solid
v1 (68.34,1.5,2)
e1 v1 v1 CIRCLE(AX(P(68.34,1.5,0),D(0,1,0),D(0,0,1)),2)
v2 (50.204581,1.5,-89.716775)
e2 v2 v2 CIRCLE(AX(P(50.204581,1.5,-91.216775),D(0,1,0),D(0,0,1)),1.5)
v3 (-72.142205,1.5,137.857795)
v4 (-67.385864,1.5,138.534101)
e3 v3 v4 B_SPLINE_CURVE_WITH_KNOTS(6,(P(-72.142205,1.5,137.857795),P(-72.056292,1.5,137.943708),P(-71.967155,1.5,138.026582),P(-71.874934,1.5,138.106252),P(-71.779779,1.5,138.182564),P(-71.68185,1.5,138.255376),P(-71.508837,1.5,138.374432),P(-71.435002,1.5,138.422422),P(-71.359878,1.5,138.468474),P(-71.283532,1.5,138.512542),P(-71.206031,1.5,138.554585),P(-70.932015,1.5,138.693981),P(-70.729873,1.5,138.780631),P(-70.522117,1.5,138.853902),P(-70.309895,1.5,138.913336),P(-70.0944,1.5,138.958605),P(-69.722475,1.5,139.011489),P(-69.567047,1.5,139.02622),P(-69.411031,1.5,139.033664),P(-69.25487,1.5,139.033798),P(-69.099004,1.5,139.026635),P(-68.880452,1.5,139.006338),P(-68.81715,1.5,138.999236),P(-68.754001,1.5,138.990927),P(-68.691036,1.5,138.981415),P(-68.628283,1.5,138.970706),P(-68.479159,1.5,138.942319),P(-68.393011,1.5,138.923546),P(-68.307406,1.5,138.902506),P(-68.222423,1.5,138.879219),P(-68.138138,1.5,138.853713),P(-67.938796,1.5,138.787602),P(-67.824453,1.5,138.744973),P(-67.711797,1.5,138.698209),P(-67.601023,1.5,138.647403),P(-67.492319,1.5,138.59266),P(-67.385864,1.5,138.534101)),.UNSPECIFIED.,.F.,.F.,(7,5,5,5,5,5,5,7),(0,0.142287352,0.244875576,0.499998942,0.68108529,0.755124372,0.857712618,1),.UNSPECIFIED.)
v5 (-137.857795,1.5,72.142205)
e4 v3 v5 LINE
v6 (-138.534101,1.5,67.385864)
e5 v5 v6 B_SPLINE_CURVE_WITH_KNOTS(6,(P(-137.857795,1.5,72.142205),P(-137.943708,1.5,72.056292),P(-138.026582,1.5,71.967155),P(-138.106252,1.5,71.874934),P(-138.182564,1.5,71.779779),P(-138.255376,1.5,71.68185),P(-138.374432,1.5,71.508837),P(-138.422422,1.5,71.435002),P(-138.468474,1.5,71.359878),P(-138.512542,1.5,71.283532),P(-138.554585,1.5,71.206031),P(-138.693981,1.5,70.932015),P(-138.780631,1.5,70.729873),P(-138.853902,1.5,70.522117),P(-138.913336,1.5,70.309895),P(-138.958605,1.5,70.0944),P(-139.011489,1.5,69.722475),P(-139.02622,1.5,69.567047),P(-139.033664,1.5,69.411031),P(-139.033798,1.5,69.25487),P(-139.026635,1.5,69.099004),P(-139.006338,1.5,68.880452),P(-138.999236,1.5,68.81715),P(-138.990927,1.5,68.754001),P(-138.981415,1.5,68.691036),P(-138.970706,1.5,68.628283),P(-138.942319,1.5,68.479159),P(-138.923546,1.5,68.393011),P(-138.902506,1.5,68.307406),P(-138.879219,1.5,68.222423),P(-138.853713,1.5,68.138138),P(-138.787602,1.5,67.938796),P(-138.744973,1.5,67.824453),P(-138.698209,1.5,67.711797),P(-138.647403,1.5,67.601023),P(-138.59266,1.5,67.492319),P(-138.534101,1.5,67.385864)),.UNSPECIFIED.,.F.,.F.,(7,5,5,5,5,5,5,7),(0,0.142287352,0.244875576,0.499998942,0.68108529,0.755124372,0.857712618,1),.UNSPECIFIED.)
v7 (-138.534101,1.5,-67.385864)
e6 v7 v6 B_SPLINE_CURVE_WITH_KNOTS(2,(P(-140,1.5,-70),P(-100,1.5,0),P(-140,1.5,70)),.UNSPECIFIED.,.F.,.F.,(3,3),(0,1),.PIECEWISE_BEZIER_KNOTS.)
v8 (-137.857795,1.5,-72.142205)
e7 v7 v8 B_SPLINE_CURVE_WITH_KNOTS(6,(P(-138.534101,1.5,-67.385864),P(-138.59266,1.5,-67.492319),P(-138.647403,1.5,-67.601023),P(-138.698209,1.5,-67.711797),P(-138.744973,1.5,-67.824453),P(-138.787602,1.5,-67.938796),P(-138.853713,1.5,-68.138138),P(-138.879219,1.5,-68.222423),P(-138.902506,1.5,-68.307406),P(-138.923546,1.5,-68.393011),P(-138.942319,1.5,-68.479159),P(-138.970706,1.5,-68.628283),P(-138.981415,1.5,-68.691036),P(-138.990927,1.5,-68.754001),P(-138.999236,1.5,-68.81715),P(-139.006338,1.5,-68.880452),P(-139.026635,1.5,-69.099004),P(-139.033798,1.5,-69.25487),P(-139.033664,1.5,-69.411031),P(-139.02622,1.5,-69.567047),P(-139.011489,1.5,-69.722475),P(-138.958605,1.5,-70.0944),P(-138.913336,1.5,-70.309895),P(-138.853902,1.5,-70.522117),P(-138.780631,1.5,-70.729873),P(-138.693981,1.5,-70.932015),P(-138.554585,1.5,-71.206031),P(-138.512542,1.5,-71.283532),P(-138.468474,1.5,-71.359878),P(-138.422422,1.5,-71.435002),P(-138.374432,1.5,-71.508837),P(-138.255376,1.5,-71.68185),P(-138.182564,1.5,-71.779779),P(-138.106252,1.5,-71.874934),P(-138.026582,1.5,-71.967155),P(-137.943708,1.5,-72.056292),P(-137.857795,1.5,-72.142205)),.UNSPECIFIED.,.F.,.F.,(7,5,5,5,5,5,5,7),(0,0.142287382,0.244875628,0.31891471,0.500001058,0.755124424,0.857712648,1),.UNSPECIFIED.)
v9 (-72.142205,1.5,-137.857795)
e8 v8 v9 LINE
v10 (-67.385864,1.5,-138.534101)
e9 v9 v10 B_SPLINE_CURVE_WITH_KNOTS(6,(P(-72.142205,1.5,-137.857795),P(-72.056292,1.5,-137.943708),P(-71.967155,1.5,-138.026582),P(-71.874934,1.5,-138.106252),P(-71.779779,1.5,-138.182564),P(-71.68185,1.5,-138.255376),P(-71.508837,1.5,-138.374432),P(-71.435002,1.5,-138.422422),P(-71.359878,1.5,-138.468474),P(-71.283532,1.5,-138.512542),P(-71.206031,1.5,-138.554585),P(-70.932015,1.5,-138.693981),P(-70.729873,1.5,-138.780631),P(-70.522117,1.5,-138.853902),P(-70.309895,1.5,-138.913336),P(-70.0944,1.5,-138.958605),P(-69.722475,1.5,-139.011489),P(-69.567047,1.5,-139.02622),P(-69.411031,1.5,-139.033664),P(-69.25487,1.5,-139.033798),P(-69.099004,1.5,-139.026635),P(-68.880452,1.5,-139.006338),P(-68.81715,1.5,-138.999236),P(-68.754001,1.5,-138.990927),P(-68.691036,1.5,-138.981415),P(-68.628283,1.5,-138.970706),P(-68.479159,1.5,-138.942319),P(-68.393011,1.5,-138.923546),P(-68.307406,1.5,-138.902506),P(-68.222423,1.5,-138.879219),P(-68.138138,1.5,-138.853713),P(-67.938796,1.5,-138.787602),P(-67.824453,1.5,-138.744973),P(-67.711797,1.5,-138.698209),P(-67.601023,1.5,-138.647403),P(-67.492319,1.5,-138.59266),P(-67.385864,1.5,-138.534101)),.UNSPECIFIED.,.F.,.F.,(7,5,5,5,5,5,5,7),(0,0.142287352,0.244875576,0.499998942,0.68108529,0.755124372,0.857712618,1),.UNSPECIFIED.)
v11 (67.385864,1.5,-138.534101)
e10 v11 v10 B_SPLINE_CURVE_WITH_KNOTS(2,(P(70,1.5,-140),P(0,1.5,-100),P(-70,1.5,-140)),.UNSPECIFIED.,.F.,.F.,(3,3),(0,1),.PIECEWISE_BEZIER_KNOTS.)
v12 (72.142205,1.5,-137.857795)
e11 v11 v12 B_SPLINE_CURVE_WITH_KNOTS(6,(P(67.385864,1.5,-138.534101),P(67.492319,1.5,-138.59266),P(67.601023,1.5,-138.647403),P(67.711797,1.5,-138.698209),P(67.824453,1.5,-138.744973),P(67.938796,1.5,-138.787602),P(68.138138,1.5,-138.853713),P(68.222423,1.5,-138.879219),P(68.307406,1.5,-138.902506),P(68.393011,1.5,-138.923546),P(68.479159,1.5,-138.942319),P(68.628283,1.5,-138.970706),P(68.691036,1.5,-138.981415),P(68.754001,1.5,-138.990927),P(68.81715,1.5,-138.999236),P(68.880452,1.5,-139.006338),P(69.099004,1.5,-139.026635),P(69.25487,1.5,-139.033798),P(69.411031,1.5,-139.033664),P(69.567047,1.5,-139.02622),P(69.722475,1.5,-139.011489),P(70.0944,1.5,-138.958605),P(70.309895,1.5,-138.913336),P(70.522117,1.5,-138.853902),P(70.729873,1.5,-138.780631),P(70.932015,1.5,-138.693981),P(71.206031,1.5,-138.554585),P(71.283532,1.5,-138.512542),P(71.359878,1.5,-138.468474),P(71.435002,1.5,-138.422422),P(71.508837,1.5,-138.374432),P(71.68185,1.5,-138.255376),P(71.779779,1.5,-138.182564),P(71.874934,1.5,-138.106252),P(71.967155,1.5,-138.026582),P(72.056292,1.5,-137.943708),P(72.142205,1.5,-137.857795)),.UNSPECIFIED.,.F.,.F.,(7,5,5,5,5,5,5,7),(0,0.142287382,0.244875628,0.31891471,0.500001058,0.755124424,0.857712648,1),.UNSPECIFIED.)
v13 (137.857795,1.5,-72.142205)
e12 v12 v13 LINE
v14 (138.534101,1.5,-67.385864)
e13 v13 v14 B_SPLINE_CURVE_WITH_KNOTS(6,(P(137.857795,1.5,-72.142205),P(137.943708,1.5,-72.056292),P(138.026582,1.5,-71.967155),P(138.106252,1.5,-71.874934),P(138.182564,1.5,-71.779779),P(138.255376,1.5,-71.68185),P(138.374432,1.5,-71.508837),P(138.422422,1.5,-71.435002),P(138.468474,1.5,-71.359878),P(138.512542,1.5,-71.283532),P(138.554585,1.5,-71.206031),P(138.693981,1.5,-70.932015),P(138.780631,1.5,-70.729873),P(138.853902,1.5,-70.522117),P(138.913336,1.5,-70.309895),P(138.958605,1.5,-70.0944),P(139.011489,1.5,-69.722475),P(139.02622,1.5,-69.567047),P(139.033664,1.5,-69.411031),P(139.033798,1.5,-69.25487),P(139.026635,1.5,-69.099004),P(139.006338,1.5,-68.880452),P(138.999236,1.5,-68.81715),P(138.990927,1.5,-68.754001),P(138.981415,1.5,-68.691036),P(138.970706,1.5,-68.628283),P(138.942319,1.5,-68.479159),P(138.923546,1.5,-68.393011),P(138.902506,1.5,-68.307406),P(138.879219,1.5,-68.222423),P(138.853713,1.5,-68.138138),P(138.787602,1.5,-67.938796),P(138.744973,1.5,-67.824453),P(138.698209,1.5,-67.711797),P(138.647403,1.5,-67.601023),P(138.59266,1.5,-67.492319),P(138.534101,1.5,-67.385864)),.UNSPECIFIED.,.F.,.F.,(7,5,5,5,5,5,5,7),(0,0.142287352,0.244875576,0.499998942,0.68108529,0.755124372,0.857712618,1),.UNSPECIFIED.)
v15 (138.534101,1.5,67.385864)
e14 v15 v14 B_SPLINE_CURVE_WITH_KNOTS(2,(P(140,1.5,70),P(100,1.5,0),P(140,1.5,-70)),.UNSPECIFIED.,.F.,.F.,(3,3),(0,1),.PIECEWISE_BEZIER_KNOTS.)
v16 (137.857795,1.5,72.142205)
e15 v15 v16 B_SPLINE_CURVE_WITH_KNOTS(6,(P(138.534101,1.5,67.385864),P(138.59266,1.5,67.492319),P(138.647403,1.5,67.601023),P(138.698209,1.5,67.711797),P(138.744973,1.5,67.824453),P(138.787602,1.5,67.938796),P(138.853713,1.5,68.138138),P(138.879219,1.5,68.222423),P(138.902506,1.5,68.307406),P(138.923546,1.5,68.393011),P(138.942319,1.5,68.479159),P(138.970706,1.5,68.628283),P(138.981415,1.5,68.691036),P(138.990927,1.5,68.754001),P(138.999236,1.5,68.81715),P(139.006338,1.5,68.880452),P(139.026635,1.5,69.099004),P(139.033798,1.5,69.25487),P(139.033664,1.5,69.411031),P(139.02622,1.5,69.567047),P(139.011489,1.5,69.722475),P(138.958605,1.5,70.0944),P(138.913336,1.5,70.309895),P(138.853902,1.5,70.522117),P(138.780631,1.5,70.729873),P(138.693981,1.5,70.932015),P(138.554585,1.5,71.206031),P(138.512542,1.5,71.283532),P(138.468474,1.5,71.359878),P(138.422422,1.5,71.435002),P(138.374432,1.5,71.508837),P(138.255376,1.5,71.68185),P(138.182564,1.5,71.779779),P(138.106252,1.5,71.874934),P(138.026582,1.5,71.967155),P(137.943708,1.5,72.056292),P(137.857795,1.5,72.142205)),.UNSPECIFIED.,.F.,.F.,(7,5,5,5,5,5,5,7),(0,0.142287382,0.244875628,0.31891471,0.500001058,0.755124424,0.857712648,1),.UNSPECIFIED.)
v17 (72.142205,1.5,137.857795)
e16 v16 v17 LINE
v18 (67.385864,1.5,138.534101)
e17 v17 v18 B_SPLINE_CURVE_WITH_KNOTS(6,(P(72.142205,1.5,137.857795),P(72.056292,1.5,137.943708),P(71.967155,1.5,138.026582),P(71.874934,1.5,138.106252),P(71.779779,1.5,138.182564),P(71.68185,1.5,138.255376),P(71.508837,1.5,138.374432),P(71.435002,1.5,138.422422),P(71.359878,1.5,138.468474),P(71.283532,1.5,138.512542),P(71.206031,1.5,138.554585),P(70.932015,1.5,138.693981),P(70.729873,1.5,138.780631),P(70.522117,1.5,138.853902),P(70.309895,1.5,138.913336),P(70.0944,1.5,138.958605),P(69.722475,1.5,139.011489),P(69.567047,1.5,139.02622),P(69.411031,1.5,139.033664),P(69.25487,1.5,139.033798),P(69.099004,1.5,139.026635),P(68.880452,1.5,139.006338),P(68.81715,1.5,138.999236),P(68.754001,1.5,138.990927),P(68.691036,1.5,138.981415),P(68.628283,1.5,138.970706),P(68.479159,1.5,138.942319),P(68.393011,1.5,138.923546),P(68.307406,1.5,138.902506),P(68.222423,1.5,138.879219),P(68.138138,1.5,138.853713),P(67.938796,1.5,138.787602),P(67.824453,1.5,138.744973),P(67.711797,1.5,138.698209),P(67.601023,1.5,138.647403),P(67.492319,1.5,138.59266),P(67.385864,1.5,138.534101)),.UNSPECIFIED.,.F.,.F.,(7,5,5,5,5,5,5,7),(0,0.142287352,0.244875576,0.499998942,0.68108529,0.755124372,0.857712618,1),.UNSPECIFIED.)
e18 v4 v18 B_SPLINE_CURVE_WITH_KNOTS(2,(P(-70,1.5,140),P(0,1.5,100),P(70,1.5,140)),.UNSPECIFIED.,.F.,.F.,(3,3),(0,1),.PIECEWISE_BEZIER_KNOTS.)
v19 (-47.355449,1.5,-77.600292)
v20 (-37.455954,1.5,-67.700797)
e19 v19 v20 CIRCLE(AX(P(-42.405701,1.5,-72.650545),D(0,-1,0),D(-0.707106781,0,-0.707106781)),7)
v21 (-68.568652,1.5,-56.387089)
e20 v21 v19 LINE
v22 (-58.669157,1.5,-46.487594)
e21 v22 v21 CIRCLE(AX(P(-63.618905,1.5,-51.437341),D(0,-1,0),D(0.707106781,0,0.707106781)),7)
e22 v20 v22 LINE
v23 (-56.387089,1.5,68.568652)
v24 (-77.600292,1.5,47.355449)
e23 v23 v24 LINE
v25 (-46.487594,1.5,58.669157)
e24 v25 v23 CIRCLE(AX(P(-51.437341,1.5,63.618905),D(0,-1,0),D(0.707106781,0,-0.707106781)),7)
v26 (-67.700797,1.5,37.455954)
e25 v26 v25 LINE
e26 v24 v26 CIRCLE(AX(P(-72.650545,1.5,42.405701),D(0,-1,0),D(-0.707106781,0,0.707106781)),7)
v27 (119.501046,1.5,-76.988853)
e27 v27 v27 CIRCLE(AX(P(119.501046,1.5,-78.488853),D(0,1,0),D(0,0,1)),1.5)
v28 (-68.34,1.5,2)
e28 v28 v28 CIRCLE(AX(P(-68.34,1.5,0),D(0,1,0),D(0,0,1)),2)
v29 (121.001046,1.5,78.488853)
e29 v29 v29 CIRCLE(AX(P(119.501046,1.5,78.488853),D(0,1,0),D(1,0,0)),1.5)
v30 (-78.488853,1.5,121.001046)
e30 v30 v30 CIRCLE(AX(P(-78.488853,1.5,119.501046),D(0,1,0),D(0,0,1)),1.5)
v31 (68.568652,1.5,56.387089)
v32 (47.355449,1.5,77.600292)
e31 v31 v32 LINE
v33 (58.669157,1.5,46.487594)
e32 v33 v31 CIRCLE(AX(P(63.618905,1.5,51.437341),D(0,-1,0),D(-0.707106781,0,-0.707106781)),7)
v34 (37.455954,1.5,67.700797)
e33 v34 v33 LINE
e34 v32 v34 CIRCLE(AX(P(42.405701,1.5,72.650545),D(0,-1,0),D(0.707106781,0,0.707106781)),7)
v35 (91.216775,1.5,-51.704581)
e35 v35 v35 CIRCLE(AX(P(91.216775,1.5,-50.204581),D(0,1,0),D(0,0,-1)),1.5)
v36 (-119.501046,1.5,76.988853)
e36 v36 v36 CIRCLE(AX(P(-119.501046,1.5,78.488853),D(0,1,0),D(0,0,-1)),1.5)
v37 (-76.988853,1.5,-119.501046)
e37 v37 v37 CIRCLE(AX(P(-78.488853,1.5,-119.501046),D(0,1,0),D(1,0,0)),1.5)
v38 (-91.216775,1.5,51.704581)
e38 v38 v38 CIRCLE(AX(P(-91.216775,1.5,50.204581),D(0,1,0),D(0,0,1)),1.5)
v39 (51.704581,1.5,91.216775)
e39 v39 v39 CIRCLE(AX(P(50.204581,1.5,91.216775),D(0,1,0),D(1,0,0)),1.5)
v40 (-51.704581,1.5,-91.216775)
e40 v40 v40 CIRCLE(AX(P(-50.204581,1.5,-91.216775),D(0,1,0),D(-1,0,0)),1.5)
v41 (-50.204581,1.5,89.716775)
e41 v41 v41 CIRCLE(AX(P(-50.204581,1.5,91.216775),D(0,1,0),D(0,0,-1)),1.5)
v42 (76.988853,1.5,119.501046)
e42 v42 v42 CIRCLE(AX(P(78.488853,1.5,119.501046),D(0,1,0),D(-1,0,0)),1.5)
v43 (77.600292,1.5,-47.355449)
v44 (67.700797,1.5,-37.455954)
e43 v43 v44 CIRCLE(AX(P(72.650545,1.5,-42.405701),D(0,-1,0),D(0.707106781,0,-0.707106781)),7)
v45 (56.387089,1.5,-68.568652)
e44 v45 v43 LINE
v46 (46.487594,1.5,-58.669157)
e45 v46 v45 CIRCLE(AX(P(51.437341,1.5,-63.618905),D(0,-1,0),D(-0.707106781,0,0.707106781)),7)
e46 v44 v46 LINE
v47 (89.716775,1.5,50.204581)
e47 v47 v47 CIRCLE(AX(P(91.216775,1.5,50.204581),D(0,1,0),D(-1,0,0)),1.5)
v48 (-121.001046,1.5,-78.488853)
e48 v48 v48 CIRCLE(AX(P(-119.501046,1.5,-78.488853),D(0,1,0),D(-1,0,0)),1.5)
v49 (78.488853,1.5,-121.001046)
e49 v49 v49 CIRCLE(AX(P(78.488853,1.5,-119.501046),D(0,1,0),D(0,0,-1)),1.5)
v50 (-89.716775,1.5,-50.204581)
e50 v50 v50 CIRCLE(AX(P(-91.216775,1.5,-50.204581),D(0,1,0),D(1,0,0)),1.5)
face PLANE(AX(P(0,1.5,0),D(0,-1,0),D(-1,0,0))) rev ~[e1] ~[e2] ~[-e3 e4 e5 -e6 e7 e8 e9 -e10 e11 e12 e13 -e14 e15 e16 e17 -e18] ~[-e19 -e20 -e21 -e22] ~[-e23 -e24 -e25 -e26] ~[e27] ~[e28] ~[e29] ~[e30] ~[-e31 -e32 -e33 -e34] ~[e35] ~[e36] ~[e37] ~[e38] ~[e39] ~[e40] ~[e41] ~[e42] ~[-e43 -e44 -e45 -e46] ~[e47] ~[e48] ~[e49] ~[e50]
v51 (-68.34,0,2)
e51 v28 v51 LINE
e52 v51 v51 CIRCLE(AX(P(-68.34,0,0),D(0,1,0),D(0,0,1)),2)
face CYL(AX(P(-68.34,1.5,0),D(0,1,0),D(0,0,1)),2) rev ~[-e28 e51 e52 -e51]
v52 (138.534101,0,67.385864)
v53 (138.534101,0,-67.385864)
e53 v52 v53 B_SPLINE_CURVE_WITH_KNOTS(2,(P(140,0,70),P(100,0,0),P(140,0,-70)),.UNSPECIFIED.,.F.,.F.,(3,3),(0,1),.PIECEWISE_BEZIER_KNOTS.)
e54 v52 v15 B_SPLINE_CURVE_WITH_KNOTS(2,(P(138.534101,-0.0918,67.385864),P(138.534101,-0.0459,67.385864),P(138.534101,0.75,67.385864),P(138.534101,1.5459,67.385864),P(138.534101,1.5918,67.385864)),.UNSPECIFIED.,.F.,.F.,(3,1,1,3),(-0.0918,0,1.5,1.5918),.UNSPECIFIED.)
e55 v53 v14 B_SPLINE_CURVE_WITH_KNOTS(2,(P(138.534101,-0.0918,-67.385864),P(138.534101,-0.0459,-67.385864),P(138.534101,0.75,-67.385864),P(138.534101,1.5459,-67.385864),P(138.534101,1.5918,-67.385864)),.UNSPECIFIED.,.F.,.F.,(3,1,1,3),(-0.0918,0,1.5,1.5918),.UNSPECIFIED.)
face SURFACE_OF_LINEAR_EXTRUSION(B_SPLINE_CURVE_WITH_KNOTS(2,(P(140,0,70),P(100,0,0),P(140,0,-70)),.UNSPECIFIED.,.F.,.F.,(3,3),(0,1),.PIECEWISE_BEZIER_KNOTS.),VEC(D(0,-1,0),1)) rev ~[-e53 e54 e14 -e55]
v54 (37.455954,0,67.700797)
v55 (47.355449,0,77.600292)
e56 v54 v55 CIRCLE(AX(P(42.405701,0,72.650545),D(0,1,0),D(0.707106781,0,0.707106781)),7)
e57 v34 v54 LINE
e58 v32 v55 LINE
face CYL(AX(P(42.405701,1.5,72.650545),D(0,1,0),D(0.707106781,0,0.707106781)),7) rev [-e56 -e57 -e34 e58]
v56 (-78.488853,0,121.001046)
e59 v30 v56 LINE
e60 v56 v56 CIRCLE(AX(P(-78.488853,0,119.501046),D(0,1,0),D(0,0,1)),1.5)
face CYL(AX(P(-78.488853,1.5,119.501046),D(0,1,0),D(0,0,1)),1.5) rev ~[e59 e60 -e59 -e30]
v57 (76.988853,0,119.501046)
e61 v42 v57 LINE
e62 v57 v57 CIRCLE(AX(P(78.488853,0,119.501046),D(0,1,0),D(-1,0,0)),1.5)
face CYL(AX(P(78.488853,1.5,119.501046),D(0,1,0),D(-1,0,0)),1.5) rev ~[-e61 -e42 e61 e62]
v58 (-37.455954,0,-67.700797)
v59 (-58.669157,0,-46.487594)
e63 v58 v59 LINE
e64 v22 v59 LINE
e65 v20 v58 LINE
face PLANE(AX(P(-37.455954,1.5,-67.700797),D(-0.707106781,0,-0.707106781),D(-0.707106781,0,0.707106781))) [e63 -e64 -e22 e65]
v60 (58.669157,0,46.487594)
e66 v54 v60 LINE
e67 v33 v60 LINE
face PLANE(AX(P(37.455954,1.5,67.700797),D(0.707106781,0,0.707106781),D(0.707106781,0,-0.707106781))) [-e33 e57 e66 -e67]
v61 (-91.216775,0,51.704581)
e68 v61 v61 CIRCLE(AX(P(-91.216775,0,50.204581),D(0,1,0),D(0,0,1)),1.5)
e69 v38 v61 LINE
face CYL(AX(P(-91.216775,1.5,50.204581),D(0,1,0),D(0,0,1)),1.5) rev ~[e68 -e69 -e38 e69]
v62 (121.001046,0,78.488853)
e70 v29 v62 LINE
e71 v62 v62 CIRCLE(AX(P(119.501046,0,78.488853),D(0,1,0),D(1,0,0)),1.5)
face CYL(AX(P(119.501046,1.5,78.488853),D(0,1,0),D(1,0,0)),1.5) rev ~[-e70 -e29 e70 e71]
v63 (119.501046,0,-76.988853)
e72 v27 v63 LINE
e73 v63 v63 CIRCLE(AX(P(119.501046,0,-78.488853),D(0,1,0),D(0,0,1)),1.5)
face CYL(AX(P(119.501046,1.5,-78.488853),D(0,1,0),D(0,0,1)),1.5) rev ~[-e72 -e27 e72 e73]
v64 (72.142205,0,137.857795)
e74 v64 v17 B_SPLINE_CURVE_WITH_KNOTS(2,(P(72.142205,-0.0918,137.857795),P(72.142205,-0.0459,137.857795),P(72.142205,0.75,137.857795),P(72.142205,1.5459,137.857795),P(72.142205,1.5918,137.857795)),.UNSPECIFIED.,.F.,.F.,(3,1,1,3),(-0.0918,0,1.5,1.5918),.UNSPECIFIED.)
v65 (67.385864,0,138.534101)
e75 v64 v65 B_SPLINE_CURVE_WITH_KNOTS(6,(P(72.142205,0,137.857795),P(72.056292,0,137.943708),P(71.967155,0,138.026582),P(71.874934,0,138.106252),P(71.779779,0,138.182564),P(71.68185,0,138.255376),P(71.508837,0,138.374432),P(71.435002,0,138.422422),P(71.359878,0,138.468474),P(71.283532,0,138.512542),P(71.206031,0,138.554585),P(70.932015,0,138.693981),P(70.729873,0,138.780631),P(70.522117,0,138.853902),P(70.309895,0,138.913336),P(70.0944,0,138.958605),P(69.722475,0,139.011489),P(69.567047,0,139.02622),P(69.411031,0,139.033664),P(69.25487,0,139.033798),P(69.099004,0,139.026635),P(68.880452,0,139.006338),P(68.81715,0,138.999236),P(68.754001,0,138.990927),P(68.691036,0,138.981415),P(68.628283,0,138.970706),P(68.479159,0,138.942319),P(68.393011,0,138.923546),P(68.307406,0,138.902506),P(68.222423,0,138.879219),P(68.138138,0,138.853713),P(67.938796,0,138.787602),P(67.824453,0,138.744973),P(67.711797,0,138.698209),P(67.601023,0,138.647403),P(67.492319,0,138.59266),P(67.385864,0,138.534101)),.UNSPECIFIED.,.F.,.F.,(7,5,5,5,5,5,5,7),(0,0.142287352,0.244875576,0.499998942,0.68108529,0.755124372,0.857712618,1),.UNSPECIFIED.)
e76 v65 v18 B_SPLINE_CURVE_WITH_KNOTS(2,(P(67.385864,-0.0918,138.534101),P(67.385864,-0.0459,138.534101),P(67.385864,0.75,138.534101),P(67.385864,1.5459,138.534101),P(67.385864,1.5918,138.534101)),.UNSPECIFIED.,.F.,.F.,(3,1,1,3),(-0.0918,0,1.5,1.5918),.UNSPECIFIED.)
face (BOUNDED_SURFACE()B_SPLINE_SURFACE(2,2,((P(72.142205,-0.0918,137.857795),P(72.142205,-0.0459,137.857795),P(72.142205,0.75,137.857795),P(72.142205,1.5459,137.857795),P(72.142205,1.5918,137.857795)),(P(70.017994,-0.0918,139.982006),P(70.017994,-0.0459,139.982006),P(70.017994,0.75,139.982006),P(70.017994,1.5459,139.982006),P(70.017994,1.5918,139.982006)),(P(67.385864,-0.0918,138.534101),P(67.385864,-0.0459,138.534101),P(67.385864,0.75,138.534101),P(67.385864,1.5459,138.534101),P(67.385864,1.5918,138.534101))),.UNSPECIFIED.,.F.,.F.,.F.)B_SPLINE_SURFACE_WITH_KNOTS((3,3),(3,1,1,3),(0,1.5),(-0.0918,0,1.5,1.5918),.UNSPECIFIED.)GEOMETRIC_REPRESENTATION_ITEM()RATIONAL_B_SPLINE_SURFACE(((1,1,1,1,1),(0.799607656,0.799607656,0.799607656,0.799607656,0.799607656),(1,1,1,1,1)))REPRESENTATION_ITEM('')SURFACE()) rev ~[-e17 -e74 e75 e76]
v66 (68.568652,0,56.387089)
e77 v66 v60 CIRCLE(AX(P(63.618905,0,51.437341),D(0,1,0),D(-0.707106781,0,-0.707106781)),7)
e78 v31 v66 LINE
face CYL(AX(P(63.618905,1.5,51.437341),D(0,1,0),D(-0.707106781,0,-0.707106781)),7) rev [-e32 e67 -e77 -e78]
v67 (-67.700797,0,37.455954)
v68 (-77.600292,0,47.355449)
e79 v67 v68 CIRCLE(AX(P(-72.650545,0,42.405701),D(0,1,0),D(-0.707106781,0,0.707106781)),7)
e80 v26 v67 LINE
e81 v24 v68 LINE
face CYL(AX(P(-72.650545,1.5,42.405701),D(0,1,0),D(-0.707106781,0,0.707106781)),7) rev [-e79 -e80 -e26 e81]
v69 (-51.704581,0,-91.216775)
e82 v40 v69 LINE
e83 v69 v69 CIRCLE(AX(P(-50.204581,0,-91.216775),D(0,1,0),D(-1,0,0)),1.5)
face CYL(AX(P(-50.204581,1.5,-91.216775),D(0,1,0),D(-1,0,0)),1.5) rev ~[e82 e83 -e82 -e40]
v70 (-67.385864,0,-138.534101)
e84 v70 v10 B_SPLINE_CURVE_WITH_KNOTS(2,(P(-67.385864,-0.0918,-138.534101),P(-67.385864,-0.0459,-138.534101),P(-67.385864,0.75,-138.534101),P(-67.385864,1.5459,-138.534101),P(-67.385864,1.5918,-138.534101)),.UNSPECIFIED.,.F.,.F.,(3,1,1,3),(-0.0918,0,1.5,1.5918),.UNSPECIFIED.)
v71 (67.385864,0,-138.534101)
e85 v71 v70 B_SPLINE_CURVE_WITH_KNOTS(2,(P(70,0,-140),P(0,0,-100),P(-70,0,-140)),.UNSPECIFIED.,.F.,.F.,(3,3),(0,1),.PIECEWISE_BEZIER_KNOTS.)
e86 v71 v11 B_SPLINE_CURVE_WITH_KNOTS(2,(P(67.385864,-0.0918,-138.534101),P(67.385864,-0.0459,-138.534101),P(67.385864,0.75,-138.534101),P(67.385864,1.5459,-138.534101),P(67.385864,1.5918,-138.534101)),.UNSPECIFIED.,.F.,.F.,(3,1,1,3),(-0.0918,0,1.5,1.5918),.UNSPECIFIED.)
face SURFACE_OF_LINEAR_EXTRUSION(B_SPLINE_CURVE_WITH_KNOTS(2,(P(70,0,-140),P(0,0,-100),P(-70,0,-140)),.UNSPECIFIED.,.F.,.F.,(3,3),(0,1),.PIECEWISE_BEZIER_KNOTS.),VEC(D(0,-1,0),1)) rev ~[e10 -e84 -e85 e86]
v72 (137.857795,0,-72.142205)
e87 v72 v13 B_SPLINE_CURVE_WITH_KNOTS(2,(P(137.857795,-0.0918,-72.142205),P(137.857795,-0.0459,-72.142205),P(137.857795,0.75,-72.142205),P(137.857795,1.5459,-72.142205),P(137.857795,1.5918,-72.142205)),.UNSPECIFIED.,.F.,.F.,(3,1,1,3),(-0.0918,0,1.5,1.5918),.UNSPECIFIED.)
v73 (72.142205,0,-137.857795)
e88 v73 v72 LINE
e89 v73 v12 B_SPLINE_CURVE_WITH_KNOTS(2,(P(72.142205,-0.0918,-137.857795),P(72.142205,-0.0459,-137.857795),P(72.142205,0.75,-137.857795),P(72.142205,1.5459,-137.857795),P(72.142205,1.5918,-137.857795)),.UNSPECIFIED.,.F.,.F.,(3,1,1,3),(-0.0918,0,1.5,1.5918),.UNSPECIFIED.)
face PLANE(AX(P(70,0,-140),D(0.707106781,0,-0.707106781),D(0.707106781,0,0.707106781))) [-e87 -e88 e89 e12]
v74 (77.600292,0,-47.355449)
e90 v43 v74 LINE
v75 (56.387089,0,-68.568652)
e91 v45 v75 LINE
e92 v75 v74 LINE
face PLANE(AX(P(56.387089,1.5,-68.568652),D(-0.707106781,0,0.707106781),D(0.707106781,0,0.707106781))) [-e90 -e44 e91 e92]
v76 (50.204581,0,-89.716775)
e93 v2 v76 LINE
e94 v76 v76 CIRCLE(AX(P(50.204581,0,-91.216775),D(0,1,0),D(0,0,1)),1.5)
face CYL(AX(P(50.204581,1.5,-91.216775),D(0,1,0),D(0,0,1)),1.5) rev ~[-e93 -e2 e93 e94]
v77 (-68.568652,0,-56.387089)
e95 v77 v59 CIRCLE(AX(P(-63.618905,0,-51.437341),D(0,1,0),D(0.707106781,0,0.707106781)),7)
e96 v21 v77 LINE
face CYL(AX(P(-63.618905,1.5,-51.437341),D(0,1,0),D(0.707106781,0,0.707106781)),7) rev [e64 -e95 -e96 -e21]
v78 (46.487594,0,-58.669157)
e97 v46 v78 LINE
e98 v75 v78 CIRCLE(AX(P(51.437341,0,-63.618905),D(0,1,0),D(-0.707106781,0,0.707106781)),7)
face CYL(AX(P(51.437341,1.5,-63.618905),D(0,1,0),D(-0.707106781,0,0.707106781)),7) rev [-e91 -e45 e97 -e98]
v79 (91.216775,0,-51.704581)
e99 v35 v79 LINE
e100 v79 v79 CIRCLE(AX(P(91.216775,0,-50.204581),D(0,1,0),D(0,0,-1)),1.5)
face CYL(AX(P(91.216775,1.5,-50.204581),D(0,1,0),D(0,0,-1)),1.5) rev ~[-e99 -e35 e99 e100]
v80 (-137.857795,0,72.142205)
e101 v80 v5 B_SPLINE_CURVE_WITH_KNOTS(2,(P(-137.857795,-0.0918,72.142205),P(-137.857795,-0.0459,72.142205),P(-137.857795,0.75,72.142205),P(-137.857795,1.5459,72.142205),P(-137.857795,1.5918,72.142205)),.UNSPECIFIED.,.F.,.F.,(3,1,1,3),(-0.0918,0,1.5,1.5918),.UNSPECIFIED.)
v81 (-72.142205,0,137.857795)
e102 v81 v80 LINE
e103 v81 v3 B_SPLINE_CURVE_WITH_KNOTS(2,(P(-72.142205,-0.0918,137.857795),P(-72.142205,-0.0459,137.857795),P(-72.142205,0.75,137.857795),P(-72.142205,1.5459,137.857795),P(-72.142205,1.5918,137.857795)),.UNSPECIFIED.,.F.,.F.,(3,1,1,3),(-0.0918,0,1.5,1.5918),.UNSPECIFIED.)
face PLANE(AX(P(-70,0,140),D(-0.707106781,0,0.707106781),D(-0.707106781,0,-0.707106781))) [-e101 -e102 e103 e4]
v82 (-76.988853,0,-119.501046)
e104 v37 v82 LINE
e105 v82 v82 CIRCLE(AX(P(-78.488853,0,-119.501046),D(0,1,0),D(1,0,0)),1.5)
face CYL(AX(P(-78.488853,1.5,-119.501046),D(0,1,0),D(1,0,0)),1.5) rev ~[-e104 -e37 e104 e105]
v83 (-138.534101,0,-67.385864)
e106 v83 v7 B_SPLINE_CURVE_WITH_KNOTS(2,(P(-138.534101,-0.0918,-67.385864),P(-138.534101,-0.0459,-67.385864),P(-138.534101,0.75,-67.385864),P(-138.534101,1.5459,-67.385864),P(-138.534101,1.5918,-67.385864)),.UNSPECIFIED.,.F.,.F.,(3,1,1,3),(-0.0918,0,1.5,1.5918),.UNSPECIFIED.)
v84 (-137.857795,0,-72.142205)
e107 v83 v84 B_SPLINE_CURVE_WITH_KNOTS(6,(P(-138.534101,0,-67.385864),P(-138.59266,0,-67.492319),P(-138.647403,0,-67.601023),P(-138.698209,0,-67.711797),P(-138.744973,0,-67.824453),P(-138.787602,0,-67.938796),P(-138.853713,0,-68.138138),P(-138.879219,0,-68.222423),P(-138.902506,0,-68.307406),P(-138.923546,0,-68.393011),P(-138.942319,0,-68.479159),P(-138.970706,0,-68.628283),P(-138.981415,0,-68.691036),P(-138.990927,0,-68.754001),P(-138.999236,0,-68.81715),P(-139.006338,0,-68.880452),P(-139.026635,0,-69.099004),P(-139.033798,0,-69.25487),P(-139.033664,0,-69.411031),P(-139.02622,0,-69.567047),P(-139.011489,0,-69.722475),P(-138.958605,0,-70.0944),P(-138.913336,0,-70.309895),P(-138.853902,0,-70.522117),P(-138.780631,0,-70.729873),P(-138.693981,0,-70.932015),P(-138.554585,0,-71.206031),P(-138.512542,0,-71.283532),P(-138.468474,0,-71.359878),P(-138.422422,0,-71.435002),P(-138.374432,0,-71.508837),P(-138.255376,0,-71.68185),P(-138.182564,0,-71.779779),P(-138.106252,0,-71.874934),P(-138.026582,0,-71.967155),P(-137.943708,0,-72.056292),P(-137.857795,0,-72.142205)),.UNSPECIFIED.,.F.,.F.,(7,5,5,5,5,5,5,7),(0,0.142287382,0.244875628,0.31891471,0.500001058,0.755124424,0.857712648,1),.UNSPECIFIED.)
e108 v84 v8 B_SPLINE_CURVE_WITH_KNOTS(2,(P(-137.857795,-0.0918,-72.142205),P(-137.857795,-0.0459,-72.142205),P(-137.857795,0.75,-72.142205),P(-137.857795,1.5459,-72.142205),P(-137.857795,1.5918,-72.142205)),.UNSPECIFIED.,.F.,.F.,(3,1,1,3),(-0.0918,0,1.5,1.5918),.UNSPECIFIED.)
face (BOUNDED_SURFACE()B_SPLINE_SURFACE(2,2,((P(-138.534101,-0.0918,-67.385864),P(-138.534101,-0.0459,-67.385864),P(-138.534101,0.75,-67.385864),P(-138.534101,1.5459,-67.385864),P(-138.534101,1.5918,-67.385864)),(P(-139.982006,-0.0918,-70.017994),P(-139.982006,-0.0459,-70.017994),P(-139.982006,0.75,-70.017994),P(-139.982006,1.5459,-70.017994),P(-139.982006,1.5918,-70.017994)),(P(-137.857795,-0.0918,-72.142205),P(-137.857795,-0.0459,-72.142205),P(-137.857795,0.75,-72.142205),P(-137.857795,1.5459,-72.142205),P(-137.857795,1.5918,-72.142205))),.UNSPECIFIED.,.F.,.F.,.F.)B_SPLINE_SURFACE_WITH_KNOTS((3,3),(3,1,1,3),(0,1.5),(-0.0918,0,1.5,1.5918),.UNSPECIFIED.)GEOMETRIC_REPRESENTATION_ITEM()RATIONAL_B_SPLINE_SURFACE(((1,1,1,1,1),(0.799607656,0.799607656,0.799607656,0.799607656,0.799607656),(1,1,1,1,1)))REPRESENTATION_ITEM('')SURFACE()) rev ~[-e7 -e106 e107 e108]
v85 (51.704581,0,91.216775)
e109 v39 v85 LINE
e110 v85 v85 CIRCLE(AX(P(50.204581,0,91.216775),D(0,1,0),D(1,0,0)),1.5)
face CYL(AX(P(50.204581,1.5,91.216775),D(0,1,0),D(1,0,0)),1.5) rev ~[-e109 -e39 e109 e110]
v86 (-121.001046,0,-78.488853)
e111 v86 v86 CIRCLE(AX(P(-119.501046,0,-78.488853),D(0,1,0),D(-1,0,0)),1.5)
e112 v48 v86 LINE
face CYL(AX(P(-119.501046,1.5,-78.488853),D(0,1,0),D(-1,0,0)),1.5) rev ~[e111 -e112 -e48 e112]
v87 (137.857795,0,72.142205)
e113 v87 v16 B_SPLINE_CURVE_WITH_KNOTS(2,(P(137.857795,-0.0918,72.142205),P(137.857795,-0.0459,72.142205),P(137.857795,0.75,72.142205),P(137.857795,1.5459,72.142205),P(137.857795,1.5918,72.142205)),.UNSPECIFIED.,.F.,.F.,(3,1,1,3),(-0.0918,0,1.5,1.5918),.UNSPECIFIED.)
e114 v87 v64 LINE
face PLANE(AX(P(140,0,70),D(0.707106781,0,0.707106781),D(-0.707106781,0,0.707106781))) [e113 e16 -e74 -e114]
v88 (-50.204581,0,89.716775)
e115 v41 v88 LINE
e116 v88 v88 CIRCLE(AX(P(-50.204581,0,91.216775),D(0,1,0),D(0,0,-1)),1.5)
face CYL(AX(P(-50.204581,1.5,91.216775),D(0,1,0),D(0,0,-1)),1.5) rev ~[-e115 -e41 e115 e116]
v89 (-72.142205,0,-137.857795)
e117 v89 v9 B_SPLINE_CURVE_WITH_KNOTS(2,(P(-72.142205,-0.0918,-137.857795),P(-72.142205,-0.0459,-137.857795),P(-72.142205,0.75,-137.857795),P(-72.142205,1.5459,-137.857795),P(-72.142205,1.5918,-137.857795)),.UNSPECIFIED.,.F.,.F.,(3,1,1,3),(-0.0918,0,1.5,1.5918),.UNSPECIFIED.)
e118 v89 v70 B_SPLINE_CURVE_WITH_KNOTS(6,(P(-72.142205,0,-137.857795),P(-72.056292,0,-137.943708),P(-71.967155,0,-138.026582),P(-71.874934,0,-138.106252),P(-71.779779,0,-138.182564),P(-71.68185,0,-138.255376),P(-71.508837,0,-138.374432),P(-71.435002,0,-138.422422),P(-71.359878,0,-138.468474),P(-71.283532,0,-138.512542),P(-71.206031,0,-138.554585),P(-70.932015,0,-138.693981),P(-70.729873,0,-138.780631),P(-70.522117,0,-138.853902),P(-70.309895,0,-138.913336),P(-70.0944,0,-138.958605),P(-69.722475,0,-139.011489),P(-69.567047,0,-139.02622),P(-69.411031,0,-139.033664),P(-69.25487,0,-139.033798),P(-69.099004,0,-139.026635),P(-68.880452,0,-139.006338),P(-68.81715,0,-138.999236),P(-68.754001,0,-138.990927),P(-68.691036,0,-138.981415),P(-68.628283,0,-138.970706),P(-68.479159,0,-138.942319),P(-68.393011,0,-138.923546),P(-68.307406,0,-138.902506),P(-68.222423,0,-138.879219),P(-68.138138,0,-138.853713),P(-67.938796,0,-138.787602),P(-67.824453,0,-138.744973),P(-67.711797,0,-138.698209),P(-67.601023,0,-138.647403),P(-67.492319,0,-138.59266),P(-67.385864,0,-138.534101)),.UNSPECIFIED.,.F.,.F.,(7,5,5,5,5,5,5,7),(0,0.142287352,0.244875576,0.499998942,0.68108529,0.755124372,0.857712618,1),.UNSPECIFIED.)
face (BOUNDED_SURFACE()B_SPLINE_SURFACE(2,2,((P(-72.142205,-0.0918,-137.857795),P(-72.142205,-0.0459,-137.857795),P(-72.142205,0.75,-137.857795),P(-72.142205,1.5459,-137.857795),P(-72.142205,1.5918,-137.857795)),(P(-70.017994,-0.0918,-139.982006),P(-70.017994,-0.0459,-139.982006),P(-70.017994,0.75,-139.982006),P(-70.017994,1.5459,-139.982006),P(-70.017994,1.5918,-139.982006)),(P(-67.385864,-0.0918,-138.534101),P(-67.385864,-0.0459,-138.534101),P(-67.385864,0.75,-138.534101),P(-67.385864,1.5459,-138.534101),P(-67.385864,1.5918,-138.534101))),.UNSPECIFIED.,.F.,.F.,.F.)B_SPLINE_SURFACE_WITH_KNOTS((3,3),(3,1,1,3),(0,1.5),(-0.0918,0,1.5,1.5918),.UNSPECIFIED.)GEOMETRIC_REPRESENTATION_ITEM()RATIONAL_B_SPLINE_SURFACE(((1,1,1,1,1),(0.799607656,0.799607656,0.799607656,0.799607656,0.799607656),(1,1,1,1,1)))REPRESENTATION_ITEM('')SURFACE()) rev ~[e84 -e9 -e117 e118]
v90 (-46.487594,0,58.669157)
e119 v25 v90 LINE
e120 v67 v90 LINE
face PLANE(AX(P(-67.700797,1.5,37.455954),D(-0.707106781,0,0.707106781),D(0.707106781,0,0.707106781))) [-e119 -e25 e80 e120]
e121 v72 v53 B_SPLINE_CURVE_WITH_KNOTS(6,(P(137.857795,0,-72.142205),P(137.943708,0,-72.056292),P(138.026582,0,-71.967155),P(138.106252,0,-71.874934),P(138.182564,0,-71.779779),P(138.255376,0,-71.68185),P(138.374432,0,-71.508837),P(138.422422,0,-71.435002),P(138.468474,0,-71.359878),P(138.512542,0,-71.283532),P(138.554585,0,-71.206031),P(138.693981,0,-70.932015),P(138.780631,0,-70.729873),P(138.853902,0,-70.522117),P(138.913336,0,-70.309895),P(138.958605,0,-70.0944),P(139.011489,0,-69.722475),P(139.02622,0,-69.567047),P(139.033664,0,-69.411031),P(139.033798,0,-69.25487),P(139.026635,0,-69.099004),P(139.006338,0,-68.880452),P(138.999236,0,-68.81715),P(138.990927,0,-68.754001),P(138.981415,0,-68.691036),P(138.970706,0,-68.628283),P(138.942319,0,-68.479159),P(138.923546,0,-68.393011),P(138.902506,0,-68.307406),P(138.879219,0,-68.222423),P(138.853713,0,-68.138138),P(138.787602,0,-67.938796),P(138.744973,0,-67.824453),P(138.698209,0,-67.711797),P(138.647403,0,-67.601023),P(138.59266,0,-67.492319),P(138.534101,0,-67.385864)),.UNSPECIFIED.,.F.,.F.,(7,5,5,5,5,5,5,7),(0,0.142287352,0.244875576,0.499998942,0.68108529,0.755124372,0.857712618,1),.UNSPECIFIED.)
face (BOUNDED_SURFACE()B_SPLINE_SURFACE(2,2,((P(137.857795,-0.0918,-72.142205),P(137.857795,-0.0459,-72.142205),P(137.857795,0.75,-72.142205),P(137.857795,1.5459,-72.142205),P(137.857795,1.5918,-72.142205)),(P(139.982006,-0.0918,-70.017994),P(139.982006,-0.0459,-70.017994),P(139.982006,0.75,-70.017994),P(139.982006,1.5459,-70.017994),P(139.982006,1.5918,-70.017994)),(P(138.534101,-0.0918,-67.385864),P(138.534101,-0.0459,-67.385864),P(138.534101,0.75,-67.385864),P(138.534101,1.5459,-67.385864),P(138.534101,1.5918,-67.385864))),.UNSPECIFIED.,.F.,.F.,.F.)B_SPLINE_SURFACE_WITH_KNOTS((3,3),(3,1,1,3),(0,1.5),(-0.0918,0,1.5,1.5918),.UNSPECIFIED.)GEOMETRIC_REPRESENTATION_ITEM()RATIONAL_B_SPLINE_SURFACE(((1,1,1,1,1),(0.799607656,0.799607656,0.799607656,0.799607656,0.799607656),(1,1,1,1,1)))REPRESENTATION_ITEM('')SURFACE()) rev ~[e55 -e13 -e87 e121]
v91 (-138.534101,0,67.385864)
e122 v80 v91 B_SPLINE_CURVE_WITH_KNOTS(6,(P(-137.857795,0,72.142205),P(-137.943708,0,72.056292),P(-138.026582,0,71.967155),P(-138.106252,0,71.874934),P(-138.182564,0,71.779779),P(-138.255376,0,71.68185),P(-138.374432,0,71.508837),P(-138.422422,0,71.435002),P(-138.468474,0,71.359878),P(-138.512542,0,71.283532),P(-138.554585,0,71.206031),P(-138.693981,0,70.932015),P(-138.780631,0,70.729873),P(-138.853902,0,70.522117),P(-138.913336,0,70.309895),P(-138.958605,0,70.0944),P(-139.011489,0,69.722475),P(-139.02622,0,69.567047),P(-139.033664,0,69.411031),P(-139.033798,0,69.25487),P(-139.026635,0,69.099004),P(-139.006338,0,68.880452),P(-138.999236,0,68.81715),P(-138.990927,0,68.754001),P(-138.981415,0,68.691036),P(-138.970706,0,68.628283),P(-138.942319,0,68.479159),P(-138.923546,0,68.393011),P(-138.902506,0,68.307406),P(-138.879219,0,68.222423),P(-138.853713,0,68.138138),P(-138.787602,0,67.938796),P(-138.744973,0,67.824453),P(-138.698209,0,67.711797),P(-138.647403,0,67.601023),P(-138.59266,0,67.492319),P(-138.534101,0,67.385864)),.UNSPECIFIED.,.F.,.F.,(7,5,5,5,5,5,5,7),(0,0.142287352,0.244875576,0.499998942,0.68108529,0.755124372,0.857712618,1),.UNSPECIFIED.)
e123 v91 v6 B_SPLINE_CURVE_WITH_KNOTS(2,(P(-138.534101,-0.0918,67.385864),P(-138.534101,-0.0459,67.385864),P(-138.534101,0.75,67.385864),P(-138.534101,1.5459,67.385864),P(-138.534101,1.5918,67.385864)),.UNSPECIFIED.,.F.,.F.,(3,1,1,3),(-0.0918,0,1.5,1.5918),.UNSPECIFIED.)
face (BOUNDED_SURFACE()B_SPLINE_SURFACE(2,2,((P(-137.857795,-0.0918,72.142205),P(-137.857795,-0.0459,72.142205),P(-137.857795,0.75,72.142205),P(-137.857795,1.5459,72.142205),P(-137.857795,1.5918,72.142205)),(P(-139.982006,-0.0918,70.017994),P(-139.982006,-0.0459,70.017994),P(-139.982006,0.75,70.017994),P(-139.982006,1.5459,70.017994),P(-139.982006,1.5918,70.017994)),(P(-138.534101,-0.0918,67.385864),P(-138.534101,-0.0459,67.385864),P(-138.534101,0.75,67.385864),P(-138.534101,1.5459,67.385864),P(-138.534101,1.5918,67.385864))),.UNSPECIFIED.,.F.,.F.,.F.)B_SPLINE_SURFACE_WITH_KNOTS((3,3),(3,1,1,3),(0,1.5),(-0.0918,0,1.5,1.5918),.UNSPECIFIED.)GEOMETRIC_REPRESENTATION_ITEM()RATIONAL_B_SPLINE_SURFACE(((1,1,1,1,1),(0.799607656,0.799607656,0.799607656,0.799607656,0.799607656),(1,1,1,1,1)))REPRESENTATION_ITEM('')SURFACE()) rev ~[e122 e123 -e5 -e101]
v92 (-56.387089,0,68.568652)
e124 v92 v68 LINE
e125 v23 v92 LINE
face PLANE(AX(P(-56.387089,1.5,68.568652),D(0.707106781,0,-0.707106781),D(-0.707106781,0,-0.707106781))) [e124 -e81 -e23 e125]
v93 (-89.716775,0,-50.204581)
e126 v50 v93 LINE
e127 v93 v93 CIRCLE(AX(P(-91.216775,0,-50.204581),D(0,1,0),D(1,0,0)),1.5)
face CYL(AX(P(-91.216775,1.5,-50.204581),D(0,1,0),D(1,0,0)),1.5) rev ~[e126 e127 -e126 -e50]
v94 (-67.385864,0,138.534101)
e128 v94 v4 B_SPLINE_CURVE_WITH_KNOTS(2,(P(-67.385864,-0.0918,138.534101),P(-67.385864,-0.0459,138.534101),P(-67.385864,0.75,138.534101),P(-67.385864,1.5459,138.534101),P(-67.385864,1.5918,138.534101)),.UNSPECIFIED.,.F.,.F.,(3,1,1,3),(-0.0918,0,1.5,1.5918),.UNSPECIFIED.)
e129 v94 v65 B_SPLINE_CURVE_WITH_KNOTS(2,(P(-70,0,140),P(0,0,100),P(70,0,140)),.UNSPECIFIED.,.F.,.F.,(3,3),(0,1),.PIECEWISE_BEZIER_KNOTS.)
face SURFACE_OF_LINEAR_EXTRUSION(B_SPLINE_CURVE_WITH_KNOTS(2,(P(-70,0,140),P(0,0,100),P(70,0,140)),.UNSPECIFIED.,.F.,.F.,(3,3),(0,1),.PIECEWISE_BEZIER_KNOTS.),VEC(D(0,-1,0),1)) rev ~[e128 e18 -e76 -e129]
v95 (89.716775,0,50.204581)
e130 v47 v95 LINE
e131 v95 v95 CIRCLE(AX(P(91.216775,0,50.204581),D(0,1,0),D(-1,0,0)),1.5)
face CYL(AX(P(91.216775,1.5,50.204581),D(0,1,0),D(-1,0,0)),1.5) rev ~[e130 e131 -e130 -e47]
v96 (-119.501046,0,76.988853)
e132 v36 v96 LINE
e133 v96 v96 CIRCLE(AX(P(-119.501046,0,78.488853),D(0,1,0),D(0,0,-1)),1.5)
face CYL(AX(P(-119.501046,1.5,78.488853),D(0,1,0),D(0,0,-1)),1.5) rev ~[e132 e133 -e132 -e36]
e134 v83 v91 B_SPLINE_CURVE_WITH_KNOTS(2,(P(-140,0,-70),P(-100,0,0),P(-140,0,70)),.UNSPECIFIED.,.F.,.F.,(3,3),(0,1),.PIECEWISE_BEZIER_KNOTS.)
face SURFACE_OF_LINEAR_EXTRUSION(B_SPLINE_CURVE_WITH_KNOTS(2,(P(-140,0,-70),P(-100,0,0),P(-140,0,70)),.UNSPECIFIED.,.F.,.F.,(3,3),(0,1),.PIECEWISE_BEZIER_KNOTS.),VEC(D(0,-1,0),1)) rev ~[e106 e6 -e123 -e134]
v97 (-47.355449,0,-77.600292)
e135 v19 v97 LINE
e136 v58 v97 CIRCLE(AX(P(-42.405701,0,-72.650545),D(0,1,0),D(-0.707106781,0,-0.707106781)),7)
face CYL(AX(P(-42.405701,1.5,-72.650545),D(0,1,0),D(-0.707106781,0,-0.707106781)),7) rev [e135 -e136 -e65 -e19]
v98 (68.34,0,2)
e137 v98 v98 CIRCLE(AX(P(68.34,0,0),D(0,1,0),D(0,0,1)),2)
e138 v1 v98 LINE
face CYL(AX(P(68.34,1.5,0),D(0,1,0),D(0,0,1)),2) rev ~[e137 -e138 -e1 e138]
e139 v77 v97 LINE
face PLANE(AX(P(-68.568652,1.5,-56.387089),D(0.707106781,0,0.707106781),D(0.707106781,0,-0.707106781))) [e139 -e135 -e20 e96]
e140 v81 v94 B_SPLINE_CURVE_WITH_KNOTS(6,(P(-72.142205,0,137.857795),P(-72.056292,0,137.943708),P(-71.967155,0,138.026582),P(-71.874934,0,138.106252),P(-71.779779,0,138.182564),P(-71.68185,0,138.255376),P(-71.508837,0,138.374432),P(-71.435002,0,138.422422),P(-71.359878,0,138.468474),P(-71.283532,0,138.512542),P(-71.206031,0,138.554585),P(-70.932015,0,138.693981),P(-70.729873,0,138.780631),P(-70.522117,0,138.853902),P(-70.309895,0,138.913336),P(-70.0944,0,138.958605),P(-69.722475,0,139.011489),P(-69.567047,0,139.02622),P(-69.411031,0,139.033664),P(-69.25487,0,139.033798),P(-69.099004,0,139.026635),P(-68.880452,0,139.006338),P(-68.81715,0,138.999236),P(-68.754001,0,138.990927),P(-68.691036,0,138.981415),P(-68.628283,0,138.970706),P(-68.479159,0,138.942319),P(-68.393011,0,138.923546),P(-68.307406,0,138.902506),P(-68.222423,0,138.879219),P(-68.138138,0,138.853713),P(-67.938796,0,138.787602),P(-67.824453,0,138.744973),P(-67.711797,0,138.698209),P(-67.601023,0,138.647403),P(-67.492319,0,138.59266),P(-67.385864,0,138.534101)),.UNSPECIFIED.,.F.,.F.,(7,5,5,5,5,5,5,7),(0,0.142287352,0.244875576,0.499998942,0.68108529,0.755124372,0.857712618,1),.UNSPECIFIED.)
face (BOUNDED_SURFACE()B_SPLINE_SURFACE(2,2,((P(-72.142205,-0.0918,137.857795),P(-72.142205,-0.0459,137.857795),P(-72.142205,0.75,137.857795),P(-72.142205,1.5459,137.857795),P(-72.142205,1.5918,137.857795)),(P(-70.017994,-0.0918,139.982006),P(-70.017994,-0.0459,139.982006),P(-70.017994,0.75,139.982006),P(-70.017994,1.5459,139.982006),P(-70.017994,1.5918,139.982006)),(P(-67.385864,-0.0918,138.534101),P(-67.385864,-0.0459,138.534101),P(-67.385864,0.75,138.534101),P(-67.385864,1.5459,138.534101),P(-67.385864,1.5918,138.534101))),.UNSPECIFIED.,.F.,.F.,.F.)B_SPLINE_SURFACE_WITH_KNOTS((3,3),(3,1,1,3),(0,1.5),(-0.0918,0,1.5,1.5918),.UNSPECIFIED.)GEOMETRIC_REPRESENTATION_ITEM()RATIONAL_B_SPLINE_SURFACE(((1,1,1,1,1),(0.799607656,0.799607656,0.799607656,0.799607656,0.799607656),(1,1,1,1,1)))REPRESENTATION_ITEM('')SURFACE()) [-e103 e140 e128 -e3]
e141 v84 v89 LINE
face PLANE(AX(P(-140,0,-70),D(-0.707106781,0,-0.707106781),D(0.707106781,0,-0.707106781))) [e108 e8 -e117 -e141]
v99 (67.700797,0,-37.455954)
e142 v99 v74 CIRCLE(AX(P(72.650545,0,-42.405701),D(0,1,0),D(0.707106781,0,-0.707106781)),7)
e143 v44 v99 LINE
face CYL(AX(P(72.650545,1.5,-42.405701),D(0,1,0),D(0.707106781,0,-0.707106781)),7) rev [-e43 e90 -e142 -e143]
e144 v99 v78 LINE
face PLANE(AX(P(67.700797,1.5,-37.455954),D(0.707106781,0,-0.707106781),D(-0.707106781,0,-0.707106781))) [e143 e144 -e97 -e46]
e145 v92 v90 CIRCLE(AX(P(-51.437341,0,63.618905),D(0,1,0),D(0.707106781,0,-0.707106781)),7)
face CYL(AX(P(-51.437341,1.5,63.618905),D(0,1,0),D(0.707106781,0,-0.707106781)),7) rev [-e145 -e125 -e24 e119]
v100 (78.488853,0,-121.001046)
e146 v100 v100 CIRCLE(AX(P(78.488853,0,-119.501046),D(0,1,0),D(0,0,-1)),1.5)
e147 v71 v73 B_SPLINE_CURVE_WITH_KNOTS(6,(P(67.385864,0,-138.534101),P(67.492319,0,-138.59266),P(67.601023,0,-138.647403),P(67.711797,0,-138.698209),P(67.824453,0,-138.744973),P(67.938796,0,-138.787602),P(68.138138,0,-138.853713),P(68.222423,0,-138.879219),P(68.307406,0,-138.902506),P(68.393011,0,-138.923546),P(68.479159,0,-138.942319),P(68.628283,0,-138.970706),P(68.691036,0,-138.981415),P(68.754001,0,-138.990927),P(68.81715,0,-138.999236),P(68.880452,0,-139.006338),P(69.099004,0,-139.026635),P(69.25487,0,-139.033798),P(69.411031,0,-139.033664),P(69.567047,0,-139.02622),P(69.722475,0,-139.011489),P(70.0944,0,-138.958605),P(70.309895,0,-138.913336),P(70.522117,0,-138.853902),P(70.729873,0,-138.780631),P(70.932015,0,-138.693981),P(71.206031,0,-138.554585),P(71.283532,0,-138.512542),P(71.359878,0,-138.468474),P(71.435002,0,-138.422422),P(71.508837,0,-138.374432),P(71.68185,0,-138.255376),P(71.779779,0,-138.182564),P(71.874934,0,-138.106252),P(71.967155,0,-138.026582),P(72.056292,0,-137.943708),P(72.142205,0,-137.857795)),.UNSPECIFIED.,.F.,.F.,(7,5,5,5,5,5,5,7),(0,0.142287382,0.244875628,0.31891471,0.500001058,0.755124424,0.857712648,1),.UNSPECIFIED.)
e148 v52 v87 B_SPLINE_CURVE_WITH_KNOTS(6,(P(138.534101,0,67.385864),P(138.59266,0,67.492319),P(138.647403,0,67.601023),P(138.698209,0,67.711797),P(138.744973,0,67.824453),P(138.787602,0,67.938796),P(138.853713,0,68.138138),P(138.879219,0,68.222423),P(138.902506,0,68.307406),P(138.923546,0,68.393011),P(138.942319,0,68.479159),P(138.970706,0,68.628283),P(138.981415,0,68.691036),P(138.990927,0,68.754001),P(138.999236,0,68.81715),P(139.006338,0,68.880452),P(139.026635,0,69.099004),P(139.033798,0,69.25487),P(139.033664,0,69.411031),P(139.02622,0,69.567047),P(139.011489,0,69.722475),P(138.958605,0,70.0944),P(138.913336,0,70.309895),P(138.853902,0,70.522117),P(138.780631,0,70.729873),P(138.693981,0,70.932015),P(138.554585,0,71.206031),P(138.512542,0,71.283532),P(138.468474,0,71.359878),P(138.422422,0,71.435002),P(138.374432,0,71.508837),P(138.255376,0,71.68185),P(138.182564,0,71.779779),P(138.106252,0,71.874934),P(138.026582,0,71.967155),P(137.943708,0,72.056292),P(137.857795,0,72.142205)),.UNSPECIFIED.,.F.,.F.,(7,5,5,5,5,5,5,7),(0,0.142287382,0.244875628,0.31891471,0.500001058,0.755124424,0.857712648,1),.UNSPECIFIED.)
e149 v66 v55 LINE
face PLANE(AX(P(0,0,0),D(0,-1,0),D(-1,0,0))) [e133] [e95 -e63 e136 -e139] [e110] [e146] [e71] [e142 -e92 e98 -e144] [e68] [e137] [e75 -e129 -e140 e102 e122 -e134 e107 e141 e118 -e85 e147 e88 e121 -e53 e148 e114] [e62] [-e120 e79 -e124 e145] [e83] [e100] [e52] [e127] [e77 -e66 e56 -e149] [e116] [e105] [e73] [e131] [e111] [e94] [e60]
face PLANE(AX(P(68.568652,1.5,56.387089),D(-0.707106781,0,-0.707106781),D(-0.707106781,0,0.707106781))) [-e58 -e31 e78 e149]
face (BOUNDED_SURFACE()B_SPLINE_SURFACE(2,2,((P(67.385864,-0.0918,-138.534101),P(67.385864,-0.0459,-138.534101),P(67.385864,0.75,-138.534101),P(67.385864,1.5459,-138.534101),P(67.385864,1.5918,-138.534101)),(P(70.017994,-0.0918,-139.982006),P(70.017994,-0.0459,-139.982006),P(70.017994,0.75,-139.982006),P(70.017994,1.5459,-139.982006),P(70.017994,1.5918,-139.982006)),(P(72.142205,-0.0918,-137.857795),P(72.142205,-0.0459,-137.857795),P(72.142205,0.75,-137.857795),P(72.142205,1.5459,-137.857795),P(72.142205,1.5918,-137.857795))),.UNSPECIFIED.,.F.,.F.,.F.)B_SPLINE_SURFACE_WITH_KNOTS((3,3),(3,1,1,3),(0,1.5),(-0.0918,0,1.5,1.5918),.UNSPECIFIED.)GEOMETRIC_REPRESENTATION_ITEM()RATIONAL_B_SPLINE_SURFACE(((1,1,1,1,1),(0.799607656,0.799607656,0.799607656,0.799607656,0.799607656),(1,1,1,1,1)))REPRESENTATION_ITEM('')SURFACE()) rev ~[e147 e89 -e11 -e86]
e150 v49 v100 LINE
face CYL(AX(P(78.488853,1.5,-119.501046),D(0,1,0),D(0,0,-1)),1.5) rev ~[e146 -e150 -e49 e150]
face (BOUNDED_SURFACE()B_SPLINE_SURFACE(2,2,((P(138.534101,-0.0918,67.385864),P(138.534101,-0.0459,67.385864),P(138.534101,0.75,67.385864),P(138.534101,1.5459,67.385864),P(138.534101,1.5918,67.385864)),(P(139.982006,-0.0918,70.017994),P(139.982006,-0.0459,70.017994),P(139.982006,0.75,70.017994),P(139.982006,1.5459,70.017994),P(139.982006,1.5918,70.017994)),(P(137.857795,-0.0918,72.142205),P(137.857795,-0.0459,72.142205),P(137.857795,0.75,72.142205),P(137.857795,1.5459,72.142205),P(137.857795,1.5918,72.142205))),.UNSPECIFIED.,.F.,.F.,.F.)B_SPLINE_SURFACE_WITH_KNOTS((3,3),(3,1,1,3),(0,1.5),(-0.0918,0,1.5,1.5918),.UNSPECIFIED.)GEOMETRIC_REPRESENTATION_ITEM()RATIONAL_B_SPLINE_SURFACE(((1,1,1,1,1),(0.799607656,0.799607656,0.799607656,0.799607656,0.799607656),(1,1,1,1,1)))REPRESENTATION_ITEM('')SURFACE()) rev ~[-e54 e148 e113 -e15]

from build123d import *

# Parameters (mm, degrees)
DODANIE_WYCI_GNI_CIE1_DEPTH = 1.5
ZAOKR_GLENIE1_R             = 4
SZKIC2_R                    = 1.5
WYTNIJ_WYCI_GNI_CIE1_DEPTH  = 197.62293997
SZYK_KO_OWY1_COUNT          = 4
WYTNIJ_WYCI_GNI_CIE2_REACH  = 198.623
SZYK_KO_OWY2_COUNT          = 4
WYTNIJ_WYCI_GNI_CIE3_REACH  = 198.623
SZKIC4_R                    = 2


with BuildPart() as part:
    # Szkic1 → Dodanie-wyciągnięcie1 (new body)
    with BuildSketch(Plane(origin=(0, 0, 0), x_dir=(1, 0, 0), z_dir=(0, 1, 0))):
        with BuildLine():
            Line((-70, -140), (-140, -70))
            add(Edge.make_bspline(
                [(-140, 70), (-100, 0), (-140, -70)],
                knots=[0, 0, 0, 1, 1, 1], degree=2))
            Line((-140, 70), (-70, 140))
            add(Edge.make_bspline(
                [(70, 140), (0, 100), (-70, 140)],
                knots=[0, 0, 0, 1, 1, 1], degree=2))
            Line((70, 140), (140, 70))
            add(Edge.make_bspline(
                [(140, -70), (100, 0), (140, 70)],
                knots=[0, 0, 0, 1, 1, 1], degree=2))
            Line((140, -70), (70, -140))
            add(Edge.make_bspline(
                [(-70, -140), (0, -100), (70, -140)],
                knots=[0, 0, 0, 1, 1, 1], degree=2))
        make_face()
    extrude(amount=DODANIE_WYCI_GNI_CIE1_DEPTH)

    # Zaokrąglenie1
    zaokr_glenie1_edges = [part.edges().sort_by_distance(p)[0] for p in [
        (-140, 0.75, -70),
        (-70, 0.75, -140),
        (70, 0.75, -140),
        (140, 0.75, -70),
        (140, 0.75, 70),
        (70, 0.75, 140),
        (-140, 0.75, 70),
        (-70, 0.75, 140),
    ]]
    fillet(zaokr_glenie1_edges, radius=ZAOKR_GLENIE1_R)

    # Szkic2 → Wytnij-wyciągnięcie1 (cut, through all)
    with BuildSketch(Plane(origin=(0, 1.5, 0), x_dir=(1, 0, 0), z_dir=(0, 1, 0))):
        with Locations((-78.488852712, -119.501046021)):
            Circle(SZKIC2_R)
        with Locations((-119.501046021, -78.488852712)):
            Circle(SZKIC2_R)
        with Locations((-50.204581464, -91.216774773)):
            Circle(SZKIC2_R)
        with Locations((-91.216774773, -50.204581464)):
            Circle(SZKIC2_R)
    wytnij_wyci_gni_cie1 = extrude(amount=-WYTNIJ_WYCI_GNI_CIE1_DEPTH, mode=Mode.SUBTRACT)

    # Szyk kołowy1: Wytnij-wyciągnięcie1 ×4 about axis
    szyk_ko_owy1_axis = Axis((0, -82.27937755, 0), (0, 1, 0))
    for i in range(1, SZYK_KO_OWY1_COUNT):
        add(wytnij_wyci_gni_cie1.rotate(szyk_ko_owy1_axis, i * 360 / SZYK_KO_OWY1_COUNT), mode=Mode.SUBTRACT)

    # Szkic3 → Wytnij-wyciągnięcie2 (cut, up to next)
    with BuildSketch(Plane(origin=(0, 1.5, 0), x_dir=(1, 0, 0), z_dir=(0, 1, 0)), mode=Mode.PRIVATE) as wytnij_wyci_gni_cie2_sk1:
        with BuildLine():
            Line((-47.355448856, 77.60029226), (-68.568652292, 56.387088824))
            ThreePointArc((-68.568652292, 56.387088824), (-68.568652292, 46.487593888), (-58.669157355, 46.487593888))
            Line((-58.669157355, 46.487593888), (-37.45595392, 67.700797323))
            ThreePointArc((-37.45595392, 67.700797323), (-37.45595392, 77.60029226), (-47.355448856, 77.60029226))
        make_face()
    wytnij_wyci_gni_cie2_tool1 = extrude(wytnij_wyci_gni_cie2_sk1.sketch, amount=-WYTNIJ_WYCI_GNI_CIE2_REACH, mode=Mode.PRIVATE) & part.part
    wytnij_wyci_gni_cie2 = wytnij_wyci_gni_cie2_tool1.solids().sort_by_distance((-53.012303, 1.5, -62.043943))[0]
    add(wytnij_wyci_gni_cie2, mode=Mode.SUBTRACT)

    # Szyk kołowy2: Wytnij-wyciągnięcie2 ×4 about axis
    szyk_ko_owy2_axis = Axis((0, -82.27937755, 0), (0, 1, 0))
    for i in range(1, SZYK_KO_OWY2_COUNT):
        add(wytnij_wyci_gni_cie2.rotate(szyk_ko_owy2_axis, i * 360 / SZYK_KO_OWY2_COUNT), mode=Mode.SUBTRACT)

    # Szkic4 → Wytnij-wyciągnięcie3 (cut, up to next)
    with BuildSketch(Plane(origin=(0, 1.5, 0), x_dir=(1, 0, 0), z_dir=(0, 1, 0)), mode=Mode.PRIVATE) as wytnij_wyci_gni_cie3_sk1:
        with Locations((-68.34, 0)):
            Circle(SZKIC4_R)
    wytnij_wyci_gni_cie3_tool1 = extrude(wytnij_wyci_gni_cie3_sk1.sketch, amount=-WYTNIJ_WYCI_GNI_CIE3_REACH, mode=Mode.PRIVATE) & part.part
    # Szkic4 → Wytnij-wyciągnięcie3 (cut, up to next)
    with BuildSketch(Plane(origin=(0, 1.5, 0), x_dir=(1, 0, 0), z_dir=(0, 1, 0)), mode=Mode.PRIVATE) as wytnij_wyci_gni_cie3_sk2:
        with Locations((68.34, 0)):
            Circle(SZKIC4_R)
    wytnij_wyci_gni_cie3_tool2 = extrude(wytnij_wyci_gni_cie3_sk2.sketch, amount=-WYTNIJ_WYCI_GNI_CIE3_REACH, mode=Mode.PRIVATE) & part.part
    add(wytnij_wyci_gni_cie3_tool1.solids().sort_by_distance((-68.34, 1.5, 0))[0], mode=Mode.SUBTRACT)
    add(wytnij_wyci_gni_cie3_tool2.solids().sort_by_distance((68.34, 1.5, 0))[0], mode=Mode.SUBTRACT)


solid = part.part
